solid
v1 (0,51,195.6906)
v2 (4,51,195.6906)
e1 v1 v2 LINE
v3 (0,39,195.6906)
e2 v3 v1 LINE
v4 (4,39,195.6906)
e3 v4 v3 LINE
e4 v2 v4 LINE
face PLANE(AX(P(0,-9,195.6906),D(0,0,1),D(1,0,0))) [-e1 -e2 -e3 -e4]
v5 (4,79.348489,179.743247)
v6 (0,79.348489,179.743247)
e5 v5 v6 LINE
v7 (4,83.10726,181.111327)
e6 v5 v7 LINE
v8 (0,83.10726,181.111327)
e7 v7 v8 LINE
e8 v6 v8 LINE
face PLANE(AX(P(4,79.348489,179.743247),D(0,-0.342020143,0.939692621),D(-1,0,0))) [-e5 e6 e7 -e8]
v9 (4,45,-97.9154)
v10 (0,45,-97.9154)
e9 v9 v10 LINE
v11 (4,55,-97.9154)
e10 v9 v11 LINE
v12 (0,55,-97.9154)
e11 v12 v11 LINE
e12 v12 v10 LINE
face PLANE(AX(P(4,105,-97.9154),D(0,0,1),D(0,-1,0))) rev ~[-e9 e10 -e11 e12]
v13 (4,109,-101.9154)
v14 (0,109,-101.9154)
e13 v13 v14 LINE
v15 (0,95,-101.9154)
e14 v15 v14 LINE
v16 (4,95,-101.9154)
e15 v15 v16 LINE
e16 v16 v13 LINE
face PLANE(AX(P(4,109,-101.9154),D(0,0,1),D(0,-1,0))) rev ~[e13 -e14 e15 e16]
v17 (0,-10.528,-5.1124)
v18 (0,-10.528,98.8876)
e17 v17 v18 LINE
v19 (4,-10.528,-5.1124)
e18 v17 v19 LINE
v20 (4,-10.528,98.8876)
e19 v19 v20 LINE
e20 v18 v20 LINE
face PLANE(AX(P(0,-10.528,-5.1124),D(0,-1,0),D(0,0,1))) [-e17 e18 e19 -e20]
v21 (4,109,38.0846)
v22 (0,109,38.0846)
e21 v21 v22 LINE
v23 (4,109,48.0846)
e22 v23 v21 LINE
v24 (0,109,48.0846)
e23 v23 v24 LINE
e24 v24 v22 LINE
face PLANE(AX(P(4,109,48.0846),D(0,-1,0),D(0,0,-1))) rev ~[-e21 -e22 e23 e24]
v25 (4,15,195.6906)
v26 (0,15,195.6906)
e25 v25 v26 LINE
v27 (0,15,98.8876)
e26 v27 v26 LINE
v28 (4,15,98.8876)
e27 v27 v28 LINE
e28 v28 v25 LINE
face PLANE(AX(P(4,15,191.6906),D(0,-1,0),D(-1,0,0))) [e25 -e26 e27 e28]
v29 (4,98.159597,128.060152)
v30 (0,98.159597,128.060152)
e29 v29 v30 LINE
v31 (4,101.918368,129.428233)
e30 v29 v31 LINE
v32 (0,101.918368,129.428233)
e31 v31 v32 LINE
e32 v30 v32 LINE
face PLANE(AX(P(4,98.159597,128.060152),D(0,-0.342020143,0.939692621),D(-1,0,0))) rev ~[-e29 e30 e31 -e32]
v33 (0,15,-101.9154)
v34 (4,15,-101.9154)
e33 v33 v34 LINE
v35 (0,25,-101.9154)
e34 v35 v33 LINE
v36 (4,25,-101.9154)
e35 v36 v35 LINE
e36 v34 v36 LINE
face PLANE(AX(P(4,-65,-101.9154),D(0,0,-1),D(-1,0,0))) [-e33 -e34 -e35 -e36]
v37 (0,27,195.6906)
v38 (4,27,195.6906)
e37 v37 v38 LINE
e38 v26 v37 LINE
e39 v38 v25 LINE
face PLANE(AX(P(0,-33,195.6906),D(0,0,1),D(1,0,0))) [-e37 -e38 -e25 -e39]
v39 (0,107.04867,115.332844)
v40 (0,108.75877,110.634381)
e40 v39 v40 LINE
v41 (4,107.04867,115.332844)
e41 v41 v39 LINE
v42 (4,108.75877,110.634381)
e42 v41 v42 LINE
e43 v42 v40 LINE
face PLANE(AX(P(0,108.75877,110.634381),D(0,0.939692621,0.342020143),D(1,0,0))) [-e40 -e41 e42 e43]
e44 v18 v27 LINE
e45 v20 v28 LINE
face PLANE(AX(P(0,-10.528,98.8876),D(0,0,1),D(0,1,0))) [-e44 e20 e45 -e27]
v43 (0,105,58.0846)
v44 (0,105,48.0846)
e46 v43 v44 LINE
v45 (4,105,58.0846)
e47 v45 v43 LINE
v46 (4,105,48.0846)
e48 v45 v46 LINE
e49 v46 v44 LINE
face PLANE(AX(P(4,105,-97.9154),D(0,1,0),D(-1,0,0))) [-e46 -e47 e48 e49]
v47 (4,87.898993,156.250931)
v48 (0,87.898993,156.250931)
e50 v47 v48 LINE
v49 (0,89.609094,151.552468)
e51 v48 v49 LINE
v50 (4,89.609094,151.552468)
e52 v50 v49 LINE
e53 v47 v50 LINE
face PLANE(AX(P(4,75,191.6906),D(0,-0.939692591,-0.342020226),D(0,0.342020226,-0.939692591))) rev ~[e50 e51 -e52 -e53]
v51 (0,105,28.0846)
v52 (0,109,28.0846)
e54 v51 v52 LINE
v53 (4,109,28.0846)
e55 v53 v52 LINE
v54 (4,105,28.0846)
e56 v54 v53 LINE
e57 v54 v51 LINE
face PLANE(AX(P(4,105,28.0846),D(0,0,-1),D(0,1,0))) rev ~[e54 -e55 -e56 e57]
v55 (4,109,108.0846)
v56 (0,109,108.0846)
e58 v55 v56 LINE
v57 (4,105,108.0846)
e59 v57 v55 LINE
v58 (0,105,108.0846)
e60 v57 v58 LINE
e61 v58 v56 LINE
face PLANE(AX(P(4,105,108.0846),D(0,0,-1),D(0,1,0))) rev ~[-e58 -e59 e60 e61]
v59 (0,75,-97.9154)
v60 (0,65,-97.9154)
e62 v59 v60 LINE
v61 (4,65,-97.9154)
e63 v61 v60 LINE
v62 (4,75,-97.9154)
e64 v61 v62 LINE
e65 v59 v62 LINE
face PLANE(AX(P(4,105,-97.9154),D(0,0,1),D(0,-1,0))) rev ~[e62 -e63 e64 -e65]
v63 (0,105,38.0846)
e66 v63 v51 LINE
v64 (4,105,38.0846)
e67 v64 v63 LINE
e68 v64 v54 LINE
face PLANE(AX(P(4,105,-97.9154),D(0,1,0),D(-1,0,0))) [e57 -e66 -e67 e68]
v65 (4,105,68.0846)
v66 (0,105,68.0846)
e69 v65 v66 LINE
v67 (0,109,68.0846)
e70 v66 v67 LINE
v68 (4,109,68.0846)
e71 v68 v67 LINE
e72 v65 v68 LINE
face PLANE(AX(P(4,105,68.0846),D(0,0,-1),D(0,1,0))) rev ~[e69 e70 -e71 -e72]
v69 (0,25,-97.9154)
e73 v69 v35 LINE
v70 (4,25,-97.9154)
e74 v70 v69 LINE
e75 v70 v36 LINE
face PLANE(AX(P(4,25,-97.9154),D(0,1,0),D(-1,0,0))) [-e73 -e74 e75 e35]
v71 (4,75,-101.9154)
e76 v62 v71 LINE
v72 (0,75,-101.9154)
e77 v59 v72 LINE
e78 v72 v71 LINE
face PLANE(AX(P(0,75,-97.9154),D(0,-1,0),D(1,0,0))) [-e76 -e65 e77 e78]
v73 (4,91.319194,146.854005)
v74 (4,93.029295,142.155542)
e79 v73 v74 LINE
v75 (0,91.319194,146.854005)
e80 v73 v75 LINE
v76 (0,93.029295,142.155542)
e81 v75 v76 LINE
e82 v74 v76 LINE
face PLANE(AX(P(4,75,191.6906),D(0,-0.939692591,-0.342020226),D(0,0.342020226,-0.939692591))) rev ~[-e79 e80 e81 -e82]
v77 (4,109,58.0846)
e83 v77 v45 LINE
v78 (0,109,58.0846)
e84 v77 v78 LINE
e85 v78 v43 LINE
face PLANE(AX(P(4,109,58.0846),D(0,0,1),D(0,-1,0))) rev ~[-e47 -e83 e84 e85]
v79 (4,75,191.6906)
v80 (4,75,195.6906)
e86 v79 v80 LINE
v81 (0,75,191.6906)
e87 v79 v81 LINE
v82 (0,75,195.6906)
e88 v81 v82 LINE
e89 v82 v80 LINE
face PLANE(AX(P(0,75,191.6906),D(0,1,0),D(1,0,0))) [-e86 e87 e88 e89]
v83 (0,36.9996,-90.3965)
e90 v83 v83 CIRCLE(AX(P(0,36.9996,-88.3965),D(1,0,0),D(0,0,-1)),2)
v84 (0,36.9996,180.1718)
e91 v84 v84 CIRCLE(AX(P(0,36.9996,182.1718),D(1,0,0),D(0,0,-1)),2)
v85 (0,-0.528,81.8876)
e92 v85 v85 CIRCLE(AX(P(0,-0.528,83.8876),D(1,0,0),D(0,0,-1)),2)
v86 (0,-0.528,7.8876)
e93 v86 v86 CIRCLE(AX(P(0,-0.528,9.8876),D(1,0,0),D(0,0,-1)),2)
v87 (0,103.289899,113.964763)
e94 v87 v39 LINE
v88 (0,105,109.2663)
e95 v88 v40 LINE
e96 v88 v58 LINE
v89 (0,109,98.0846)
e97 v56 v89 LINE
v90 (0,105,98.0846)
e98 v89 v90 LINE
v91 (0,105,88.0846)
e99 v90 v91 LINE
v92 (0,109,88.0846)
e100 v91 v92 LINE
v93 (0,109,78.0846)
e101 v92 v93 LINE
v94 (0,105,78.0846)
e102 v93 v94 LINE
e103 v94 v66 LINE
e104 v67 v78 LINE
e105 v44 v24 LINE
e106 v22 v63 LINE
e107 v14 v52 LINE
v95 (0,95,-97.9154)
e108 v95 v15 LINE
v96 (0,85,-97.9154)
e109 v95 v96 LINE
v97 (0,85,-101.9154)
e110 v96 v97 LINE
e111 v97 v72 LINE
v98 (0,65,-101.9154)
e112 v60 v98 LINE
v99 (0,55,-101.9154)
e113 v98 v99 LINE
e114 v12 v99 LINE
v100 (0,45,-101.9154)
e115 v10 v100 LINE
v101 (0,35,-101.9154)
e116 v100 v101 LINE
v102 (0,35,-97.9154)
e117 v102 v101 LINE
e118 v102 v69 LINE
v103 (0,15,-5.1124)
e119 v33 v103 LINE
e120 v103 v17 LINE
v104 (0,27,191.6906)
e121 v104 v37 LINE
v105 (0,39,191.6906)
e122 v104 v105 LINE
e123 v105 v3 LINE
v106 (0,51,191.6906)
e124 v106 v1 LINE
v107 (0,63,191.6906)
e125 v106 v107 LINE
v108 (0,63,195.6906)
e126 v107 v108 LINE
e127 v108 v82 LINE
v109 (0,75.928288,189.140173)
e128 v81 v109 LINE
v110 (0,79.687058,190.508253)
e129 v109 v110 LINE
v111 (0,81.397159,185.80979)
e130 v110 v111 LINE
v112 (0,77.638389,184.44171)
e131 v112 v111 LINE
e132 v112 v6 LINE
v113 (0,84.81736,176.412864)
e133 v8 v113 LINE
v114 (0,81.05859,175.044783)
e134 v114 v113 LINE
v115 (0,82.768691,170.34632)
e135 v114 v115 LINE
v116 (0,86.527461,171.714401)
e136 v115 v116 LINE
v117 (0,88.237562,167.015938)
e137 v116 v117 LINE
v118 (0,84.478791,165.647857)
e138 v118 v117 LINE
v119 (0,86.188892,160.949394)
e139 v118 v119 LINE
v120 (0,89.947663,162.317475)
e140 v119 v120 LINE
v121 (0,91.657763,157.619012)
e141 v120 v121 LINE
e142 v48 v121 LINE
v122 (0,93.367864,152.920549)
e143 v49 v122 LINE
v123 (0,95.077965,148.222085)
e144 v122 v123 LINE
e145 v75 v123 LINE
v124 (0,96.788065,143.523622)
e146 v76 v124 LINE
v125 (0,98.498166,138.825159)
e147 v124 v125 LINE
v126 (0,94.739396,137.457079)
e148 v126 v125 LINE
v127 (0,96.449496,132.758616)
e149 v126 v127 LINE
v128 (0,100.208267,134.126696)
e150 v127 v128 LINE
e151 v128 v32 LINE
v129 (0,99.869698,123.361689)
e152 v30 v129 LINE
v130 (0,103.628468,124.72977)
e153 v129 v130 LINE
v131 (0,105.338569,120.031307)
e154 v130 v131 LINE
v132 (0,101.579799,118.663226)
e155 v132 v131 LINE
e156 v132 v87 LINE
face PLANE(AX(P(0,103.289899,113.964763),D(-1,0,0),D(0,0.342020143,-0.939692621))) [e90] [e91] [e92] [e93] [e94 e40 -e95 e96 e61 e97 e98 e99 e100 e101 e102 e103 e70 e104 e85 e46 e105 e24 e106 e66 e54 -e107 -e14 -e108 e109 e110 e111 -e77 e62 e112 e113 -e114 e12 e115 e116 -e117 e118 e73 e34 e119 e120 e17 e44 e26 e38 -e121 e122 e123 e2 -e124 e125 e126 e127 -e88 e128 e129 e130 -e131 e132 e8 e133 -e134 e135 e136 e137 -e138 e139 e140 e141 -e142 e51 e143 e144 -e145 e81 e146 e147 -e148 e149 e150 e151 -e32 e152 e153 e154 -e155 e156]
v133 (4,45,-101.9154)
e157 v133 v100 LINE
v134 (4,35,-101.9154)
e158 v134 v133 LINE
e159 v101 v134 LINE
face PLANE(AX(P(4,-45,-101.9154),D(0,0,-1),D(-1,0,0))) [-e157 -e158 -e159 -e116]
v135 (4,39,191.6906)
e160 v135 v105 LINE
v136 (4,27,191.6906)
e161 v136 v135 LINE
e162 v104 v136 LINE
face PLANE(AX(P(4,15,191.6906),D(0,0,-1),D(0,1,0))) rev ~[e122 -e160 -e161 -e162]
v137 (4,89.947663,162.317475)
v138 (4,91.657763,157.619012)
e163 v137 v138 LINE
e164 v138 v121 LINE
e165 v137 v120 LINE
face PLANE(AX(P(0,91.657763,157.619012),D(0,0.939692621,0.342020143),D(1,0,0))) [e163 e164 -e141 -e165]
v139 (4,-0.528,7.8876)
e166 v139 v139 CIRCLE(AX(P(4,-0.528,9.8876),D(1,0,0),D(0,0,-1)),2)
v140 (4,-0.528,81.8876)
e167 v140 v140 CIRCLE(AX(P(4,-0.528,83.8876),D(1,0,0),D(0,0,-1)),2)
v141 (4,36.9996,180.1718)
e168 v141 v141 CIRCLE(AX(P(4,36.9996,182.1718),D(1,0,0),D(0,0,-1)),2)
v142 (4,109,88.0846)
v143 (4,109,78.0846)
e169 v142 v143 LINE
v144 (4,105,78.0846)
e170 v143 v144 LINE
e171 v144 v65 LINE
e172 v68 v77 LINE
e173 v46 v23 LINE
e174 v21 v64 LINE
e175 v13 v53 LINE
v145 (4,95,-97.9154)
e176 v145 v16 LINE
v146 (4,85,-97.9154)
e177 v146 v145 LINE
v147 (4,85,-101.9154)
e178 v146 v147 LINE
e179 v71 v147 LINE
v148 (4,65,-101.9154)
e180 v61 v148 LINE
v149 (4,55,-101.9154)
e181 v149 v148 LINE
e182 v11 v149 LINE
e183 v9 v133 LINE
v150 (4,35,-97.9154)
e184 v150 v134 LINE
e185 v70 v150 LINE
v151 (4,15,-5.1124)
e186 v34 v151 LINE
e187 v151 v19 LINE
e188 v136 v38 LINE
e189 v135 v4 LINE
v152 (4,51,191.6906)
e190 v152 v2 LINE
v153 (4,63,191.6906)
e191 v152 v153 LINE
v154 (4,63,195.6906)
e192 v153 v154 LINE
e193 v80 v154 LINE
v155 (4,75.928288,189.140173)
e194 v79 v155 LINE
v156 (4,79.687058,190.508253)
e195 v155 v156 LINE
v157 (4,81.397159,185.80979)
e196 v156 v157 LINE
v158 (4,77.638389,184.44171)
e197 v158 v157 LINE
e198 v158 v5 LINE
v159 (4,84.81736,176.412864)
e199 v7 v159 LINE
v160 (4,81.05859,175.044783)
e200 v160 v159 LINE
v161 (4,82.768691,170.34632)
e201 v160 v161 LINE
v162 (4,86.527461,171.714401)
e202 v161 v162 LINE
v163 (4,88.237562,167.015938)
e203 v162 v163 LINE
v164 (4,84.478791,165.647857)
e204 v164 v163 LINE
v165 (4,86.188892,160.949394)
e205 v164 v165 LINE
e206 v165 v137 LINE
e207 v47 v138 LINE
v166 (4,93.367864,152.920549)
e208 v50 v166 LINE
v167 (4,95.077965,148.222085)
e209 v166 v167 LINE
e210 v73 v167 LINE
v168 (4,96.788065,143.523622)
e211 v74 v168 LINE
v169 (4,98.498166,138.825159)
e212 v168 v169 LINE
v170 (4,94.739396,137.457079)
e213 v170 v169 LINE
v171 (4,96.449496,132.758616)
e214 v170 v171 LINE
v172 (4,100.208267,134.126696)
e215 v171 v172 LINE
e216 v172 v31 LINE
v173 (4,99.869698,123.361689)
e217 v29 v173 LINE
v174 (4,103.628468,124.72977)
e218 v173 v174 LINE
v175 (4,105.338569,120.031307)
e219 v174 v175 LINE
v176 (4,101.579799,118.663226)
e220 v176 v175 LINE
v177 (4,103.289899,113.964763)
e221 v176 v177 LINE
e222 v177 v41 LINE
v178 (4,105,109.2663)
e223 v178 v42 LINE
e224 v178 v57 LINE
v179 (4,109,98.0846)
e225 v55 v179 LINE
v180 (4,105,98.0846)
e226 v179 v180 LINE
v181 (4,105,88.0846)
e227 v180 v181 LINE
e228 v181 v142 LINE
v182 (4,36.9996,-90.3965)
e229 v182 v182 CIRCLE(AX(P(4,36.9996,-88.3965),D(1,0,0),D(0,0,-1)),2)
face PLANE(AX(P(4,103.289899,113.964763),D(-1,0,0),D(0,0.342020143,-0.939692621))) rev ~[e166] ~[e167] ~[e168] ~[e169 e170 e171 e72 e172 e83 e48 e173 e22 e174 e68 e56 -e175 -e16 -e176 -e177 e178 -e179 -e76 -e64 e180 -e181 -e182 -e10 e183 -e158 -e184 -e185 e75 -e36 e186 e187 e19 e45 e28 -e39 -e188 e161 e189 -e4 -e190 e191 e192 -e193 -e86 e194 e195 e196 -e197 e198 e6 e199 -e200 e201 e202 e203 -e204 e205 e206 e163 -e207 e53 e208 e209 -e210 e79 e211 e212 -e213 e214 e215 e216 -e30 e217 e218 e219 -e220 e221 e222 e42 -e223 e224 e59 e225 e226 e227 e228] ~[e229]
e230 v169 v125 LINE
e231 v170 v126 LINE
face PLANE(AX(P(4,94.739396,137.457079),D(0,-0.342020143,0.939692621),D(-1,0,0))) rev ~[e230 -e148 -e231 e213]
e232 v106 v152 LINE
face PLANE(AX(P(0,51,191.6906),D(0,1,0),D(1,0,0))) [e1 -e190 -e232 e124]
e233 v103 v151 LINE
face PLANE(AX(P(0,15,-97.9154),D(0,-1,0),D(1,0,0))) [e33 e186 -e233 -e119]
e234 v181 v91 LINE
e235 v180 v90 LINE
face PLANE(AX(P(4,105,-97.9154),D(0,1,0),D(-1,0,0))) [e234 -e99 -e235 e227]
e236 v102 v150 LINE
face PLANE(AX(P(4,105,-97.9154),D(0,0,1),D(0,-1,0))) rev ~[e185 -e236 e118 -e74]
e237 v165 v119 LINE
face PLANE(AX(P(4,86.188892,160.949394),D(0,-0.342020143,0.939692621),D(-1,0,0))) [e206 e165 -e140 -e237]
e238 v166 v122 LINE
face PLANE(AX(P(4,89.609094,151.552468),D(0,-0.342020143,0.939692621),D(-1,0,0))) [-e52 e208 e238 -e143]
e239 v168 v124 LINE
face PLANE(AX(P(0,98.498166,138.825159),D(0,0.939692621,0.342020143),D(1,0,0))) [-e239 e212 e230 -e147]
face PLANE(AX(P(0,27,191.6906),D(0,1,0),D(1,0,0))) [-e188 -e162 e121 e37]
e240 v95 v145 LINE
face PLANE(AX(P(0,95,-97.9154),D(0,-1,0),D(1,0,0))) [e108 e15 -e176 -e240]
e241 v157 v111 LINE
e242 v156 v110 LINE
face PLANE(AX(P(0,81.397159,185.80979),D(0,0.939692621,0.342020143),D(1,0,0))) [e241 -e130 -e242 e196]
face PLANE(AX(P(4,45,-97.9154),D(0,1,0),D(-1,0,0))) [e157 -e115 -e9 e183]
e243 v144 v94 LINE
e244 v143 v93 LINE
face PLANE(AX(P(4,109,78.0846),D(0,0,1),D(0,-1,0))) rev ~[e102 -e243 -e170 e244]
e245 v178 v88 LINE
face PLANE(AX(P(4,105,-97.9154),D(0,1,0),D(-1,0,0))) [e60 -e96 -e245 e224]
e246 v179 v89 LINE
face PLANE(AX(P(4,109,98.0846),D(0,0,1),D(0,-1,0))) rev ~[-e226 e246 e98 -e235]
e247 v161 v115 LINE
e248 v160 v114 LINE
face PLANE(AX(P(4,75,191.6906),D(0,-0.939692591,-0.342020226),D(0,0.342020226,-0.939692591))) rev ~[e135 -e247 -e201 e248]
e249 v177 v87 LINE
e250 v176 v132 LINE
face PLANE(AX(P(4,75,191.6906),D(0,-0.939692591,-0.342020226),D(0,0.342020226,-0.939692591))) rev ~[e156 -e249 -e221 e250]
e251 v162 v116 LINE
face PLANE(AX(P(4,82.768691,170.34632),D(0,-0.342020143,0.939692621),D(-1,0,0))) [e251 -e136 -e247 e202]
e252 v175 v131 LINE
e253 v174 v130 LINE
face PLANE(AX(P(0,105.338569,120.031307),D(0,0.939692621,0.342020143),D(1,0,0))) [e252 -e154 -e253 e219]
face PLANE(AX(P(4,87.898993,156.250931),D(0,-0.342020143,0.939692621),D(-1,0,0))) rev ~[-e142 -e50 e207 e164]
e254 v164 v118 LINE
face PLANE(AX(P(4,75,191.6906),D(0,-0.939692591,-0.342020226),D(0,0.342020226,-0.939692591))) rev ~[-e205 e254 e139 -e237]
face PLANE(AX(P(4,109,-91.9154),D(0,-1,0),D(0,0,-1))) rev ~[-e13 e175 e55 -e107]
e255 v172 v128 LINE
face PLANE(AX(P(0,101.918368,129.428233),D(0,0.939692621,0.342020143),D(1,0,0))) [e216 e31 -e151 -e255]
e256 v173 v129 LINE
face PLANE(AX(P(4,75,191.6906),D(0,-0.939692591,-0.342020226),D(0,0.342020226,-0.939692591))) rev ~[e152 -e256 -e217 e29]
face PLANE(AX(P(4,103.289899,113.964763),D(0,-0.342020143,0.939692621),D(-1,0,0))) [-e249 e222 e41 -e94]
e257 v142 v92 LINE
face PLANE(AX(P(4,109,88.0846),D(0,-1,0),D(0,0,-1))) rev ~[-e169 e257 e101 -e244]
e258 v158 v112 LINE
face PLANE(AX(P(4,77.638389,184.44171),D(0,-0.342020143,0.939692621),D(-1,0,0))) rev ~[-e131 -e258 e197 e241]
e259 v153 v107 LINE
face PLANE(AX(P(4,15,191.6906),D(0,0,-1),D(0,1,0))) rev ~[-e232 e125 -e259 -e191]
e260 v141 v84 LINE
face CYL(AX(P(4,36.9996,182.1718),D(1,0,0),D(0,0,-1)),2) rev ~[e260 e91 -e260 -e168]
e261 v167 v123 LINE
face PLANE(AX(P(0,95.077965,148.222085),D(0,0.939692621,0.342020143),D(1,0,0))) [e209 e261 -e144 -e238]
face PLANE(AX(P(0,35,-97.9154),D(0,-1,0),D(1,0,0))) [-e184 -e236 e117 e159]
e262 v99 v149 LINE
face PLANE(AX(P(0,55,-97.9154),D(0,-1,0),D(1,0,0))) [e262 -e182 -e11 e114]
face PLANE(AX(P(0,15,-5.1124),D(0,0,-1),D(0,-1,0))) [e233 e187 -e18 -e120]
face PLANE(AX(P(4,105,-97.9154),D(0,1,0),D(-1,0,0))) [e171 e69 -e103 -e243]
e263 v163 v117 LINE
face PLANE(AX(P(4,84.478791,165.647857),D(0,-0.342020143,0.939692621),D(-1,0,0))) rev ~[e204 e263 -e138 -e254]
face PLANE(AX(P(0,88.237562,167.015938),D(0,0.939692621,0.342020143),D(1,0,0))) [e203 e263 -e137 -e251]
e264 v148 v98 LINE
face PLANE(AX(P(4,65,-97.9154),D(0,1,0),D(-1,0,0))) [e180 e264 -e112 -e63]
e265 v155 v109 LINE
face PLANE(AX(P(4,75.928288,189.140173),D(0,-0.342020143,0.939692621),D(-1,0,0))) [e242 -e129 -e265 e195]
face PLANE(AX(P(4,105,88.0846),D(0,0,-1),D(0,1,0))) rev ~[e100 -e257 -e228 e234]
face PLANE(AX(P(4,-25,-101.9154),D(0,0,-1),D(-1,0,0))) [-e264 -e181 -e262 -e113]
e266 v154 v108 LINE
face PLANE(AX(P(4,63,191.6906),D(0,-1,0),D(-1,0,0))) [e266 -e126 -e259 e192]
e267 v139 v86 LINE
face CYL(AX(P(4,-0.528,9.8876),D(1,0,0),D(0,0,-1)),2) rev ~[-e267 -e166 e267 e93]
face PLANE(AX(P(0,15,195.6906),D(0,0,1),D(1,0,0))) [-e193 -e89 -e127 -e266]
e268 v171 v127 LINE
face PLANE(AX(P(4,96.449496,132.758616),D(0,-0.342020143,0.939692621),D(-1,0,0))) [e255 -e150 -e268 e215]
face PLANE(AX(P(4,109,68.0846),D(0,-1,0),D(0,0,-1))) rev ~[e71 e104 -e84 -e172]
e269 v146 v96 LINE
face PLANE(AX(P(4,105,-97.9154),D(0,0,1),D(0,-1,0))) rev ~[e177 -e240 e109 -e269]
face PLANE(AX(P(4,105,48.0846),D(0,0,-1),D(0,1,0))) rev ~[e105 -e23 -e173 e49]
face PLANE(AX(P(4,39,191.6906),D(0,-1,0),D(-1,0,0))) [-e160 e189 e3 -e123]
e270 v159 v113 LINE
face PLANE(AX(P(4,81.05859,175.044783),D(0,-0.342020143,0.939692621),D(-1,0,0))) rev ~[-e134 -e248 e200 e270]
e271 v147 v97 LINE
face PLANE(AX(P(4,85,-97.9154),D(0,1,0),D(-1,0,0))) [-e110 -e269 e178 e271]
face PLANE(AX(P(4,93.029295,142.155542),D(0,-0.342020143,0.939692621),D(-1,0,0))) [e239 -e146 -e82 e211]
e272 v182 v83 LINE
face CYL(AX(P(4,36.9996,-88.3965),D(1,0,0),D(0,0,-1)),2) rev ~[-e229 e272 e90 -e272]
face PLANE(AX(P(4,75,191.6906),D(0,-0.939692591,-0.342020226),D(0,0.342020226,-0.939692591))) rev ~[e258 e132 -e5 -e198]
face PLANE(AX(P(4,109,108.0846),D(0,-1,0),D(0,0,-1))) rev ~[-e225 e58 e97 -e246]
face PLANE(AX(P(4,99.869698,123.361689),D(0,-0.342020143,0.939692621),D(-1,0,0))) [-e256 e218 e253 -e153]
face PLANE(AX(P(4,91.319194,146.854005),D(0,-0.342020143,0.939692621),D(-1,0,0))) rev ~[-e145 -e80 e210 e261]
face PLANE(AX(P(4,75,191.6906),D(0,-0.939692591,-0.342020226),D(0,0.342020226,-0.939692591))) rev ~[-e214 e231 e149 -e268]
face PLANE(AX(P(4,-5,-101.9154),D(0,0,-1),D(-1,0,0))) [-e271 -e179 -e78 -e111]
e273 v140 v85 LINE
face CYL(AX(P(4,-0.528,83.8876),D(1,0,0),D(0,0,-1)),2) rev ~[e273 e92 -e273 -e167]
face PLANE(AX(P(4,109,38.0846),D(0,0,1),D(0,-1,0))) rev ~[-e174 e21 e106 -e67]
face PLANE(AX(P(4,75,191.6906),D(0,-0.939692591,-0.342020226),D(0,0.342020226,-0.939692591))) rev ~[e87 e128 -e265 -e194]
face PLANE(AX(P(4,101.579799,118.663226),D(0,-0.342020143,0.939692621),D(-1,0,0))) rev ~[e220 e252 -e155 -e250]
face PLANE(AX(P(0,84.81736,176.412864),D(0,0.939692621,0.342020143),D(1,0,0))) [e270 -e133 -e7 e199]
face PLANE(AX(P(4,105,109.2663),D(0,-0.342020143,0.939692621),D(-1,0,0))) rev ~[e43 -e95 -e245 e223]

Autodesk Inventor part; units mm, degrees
ref_plane "YZ Plane" through (0, 0, 0) normal (1, 0, 0) x (0, 1, 0)
ref_plane "XZ Plane" through (0, 0, 0) normal (0, 1, 0) x (-1, 0, 0)
ref_plane "XY Plane" through (0, 0, 0) normal (0, 0, 1) x (1, 0, 0)
sketch "Эскиз1" plane through (0, 0, 0) normal (1, 0, 0) x (0, 1, 0)
  line L0 (-10.528, 98.8876) -> (15, 98.8876)
  line L1 (15, 98.8876) -> (15, -5.1124)
  line L2 (15, -5.1124) -> (-10.528, -5.1124)
  line L3 (-10.528, -5.1124) -> (-10.528, 98.8876)
  point P0 (0, 0)
  dimension "d0" = 25.528
  dimension "d1" = 104
extrude "Выдавливание1" add sketch "Эскиз1" along normal blind 4
sketch "Эскиз2" plane through (4, 0, 0) normal (1, 0, 0) x (0, 0, -1)
  circle A0 centre (-9.8876, -0.528) radius 2 projected
  circle A1 centre (-83.8876, -0.528) radius 2 projected
  point P0 (0, 0)
extrude "Выдавливание2" cut sketch "Эскиз2" against normal blind 4
sketch "Эскиз3" plane through (4, 0, 0) normal (1, 0, 0) x (0, 0, -1)
  line L0 (-191.6906, 75) -> (97.9154, 75)
  line L1 (97.9154, 75) -> (97.9154, 15)
  line L2 (97.9154, 15) -> (-191.6906, 15)
  line L3 (-191.6906, 15) -> (-191.6906, 75)
  line L4 (-98.8876, 15) -> (-98.8876, -10.528) projected
  line L5 (5.1124, -10.528) -> (5.1124, 15) projected
  point P0 (0, 0)
  dimension "d6" = 92.803
  dimension "d7" = 92.803
  dimension "d8" = 60
extrude "Выдавливание3" add sketch "Эскиз3" against normal blind 4
sketch "Эскиз4" plane through (4, 0, 0) normal (1, 0, 0) x (0, 0, -1)
  line L0 (-191.6906, 75) -> (97.9154, 75) projected
  line L1 (-191.6906, 75) -> (-109.2663, 105)
  line L2 (-109.2663, 105) -> (97.9154, 105)
  line L3 (97.9154, 105) -> (97.9154, 75)
  line L4 (97.9154, 75) -> (-191.6906, 75) projected
  line L5 (-98.8876, -10.528) -> (5.1124, -10.528) projected
  line L6 (-46.8876, -10.528) -> (-46.8876, 5.327)
  point P0 (0, 0)
  dimension "d11" = 30
  dimension "d12" = 90
  dimension "d15" = 20
extrude "Выдавливание4" add sketch "Эскиз4" against normal blind 4
sketch "Эскиз5" plane through (0, 15, 191.6906) normal (0, 0, 1) x (1, 0, 0)
  line L0 (0, 0) -> (0, 60) projected
  line L1 (4, 60) -> (4, 0) projected
  line L2 (0, 60) -> (4, 60)
  line L3 (4, 60) -> (4, 48)
  line L4 (4, 48) -> (0, 48)
  line L5 (0, 48) -> (0, 60)
  point P0 (0, -15)
  point P1 (0, 48)
  dimension "d16" = 12
extrude "Выдавливание5" add sketch "Эскиз5" along normal blind 4
pattern_linear "Прямоуг.массив1" count 3 spacing 24 along (0, -1, 0) of "Выдавливание5"
sketch "Эскиз6" plane through (4, 15, -97.9154) normal (0, 0, -1) x (-1, 0, 0)
  line L0 (4, 90) -> (4, 0) projected
  line L1 (0, 90) -> (4, 90)
  line L2 (4, 90) -> (4, 80)
  line L3 (4, 80) -> (0, 80)
  line L4 (0, 80) -> (0, 90)
  point P0 (4, -15)
  dimension "d22" = 10
extrude "Выдавливание6" add sketch "Эскиз6" along normal blind 4
pattern_linear "Прямоуг.массив2" count 5 spacing 20 along (0, -1, 0) of "Выдавливание6"
sketch "Эскиз7" plane through (4, 0, 0) normal (1, 0, 0) x (0, 0, -1)
  line L0 (-109.2663, 105) -> (101.9154, 105) projected
  line L1 (101.9154, 105) -> (91.9154, 105)
  line L2 (91.9154, 105) -> (91.9154, 109)
  line L3 (91.9154, 109) -> (101.9154, 109)
  line L4 (101.9154, 109) -> (101.9154, 105)
  point P0 (0, 0)
  dimension "d28" = 10
  dimension "d29" = 4
extrude "Выдавливание7" add sketch "Эскиз7" against normal blind 4
pattern_linear "Прямоуг.массив3" count 11 spacing 20 along (0, 0, 1) of "Выдавливание7"
sketch "Эскиз8" plane through (4, 0, 0) normal (1, 0, 0) x (0, 0, -1)
  circle A0 centre (-182.1718, 36.9996) radius 2 projected
  circle A1 centre (88.3965, 36.9996) radius 2 projected
  point P0 (0, 0)
extrude "Выдавливание8" cut sketch "Эскиз8" against normal blind 4
sketch "Эскиз9" plane through (0, 105, 109.2663) normal (0, 0.9397, 0.342) x (1, 0, 0)
  line L0 (4, 0) -> (0, 0) projected
  line L1 (4, -29.7601) -> (4, 67.9679) projected
  line L2 (0, 0) -> (4, 0)
  line L3 (4, 0) -> (4, -5)
  line L4 (4, -5) -> (0, -5)
  line L5 (0, -5) -> (0, 0)
  point P0 (0, 66.7646)
  dimension "d37" = 5
extrude "Выдавливание9" add sketch "Эскиз9" along normal blind 4
pattern_linear "Прямоуг.массив4" count 9 spacing 10 along (0, -0.342, 0.9397) of "Выдавливание9"
sketch "Эскиз10" plane through (4, 0, 0) normal (1, 0, 0) x (0, 0, -1)
  line L0 (101.9154, 109) -> (91.9154, 109) projected
  line L1 (101.9154, 109) -> (-23.0846, 109)
  line L2 (-23.0846, 109) -> (-23.0846, 105)
  line L3 (-23.0846, 105) -> (101.9154, 105)
  line L4 (101.9154, 105) -> (101.9154, 109)
  point P0 (0, 0)
  dimension "d43" = 125
extrude "Выдавливание10" add sketch "Эскиз10" against normal blind 4
equation "\"d7\" = d6"
properties part number "KB33-046-004-007 - Центральная левая боковая пластина"
